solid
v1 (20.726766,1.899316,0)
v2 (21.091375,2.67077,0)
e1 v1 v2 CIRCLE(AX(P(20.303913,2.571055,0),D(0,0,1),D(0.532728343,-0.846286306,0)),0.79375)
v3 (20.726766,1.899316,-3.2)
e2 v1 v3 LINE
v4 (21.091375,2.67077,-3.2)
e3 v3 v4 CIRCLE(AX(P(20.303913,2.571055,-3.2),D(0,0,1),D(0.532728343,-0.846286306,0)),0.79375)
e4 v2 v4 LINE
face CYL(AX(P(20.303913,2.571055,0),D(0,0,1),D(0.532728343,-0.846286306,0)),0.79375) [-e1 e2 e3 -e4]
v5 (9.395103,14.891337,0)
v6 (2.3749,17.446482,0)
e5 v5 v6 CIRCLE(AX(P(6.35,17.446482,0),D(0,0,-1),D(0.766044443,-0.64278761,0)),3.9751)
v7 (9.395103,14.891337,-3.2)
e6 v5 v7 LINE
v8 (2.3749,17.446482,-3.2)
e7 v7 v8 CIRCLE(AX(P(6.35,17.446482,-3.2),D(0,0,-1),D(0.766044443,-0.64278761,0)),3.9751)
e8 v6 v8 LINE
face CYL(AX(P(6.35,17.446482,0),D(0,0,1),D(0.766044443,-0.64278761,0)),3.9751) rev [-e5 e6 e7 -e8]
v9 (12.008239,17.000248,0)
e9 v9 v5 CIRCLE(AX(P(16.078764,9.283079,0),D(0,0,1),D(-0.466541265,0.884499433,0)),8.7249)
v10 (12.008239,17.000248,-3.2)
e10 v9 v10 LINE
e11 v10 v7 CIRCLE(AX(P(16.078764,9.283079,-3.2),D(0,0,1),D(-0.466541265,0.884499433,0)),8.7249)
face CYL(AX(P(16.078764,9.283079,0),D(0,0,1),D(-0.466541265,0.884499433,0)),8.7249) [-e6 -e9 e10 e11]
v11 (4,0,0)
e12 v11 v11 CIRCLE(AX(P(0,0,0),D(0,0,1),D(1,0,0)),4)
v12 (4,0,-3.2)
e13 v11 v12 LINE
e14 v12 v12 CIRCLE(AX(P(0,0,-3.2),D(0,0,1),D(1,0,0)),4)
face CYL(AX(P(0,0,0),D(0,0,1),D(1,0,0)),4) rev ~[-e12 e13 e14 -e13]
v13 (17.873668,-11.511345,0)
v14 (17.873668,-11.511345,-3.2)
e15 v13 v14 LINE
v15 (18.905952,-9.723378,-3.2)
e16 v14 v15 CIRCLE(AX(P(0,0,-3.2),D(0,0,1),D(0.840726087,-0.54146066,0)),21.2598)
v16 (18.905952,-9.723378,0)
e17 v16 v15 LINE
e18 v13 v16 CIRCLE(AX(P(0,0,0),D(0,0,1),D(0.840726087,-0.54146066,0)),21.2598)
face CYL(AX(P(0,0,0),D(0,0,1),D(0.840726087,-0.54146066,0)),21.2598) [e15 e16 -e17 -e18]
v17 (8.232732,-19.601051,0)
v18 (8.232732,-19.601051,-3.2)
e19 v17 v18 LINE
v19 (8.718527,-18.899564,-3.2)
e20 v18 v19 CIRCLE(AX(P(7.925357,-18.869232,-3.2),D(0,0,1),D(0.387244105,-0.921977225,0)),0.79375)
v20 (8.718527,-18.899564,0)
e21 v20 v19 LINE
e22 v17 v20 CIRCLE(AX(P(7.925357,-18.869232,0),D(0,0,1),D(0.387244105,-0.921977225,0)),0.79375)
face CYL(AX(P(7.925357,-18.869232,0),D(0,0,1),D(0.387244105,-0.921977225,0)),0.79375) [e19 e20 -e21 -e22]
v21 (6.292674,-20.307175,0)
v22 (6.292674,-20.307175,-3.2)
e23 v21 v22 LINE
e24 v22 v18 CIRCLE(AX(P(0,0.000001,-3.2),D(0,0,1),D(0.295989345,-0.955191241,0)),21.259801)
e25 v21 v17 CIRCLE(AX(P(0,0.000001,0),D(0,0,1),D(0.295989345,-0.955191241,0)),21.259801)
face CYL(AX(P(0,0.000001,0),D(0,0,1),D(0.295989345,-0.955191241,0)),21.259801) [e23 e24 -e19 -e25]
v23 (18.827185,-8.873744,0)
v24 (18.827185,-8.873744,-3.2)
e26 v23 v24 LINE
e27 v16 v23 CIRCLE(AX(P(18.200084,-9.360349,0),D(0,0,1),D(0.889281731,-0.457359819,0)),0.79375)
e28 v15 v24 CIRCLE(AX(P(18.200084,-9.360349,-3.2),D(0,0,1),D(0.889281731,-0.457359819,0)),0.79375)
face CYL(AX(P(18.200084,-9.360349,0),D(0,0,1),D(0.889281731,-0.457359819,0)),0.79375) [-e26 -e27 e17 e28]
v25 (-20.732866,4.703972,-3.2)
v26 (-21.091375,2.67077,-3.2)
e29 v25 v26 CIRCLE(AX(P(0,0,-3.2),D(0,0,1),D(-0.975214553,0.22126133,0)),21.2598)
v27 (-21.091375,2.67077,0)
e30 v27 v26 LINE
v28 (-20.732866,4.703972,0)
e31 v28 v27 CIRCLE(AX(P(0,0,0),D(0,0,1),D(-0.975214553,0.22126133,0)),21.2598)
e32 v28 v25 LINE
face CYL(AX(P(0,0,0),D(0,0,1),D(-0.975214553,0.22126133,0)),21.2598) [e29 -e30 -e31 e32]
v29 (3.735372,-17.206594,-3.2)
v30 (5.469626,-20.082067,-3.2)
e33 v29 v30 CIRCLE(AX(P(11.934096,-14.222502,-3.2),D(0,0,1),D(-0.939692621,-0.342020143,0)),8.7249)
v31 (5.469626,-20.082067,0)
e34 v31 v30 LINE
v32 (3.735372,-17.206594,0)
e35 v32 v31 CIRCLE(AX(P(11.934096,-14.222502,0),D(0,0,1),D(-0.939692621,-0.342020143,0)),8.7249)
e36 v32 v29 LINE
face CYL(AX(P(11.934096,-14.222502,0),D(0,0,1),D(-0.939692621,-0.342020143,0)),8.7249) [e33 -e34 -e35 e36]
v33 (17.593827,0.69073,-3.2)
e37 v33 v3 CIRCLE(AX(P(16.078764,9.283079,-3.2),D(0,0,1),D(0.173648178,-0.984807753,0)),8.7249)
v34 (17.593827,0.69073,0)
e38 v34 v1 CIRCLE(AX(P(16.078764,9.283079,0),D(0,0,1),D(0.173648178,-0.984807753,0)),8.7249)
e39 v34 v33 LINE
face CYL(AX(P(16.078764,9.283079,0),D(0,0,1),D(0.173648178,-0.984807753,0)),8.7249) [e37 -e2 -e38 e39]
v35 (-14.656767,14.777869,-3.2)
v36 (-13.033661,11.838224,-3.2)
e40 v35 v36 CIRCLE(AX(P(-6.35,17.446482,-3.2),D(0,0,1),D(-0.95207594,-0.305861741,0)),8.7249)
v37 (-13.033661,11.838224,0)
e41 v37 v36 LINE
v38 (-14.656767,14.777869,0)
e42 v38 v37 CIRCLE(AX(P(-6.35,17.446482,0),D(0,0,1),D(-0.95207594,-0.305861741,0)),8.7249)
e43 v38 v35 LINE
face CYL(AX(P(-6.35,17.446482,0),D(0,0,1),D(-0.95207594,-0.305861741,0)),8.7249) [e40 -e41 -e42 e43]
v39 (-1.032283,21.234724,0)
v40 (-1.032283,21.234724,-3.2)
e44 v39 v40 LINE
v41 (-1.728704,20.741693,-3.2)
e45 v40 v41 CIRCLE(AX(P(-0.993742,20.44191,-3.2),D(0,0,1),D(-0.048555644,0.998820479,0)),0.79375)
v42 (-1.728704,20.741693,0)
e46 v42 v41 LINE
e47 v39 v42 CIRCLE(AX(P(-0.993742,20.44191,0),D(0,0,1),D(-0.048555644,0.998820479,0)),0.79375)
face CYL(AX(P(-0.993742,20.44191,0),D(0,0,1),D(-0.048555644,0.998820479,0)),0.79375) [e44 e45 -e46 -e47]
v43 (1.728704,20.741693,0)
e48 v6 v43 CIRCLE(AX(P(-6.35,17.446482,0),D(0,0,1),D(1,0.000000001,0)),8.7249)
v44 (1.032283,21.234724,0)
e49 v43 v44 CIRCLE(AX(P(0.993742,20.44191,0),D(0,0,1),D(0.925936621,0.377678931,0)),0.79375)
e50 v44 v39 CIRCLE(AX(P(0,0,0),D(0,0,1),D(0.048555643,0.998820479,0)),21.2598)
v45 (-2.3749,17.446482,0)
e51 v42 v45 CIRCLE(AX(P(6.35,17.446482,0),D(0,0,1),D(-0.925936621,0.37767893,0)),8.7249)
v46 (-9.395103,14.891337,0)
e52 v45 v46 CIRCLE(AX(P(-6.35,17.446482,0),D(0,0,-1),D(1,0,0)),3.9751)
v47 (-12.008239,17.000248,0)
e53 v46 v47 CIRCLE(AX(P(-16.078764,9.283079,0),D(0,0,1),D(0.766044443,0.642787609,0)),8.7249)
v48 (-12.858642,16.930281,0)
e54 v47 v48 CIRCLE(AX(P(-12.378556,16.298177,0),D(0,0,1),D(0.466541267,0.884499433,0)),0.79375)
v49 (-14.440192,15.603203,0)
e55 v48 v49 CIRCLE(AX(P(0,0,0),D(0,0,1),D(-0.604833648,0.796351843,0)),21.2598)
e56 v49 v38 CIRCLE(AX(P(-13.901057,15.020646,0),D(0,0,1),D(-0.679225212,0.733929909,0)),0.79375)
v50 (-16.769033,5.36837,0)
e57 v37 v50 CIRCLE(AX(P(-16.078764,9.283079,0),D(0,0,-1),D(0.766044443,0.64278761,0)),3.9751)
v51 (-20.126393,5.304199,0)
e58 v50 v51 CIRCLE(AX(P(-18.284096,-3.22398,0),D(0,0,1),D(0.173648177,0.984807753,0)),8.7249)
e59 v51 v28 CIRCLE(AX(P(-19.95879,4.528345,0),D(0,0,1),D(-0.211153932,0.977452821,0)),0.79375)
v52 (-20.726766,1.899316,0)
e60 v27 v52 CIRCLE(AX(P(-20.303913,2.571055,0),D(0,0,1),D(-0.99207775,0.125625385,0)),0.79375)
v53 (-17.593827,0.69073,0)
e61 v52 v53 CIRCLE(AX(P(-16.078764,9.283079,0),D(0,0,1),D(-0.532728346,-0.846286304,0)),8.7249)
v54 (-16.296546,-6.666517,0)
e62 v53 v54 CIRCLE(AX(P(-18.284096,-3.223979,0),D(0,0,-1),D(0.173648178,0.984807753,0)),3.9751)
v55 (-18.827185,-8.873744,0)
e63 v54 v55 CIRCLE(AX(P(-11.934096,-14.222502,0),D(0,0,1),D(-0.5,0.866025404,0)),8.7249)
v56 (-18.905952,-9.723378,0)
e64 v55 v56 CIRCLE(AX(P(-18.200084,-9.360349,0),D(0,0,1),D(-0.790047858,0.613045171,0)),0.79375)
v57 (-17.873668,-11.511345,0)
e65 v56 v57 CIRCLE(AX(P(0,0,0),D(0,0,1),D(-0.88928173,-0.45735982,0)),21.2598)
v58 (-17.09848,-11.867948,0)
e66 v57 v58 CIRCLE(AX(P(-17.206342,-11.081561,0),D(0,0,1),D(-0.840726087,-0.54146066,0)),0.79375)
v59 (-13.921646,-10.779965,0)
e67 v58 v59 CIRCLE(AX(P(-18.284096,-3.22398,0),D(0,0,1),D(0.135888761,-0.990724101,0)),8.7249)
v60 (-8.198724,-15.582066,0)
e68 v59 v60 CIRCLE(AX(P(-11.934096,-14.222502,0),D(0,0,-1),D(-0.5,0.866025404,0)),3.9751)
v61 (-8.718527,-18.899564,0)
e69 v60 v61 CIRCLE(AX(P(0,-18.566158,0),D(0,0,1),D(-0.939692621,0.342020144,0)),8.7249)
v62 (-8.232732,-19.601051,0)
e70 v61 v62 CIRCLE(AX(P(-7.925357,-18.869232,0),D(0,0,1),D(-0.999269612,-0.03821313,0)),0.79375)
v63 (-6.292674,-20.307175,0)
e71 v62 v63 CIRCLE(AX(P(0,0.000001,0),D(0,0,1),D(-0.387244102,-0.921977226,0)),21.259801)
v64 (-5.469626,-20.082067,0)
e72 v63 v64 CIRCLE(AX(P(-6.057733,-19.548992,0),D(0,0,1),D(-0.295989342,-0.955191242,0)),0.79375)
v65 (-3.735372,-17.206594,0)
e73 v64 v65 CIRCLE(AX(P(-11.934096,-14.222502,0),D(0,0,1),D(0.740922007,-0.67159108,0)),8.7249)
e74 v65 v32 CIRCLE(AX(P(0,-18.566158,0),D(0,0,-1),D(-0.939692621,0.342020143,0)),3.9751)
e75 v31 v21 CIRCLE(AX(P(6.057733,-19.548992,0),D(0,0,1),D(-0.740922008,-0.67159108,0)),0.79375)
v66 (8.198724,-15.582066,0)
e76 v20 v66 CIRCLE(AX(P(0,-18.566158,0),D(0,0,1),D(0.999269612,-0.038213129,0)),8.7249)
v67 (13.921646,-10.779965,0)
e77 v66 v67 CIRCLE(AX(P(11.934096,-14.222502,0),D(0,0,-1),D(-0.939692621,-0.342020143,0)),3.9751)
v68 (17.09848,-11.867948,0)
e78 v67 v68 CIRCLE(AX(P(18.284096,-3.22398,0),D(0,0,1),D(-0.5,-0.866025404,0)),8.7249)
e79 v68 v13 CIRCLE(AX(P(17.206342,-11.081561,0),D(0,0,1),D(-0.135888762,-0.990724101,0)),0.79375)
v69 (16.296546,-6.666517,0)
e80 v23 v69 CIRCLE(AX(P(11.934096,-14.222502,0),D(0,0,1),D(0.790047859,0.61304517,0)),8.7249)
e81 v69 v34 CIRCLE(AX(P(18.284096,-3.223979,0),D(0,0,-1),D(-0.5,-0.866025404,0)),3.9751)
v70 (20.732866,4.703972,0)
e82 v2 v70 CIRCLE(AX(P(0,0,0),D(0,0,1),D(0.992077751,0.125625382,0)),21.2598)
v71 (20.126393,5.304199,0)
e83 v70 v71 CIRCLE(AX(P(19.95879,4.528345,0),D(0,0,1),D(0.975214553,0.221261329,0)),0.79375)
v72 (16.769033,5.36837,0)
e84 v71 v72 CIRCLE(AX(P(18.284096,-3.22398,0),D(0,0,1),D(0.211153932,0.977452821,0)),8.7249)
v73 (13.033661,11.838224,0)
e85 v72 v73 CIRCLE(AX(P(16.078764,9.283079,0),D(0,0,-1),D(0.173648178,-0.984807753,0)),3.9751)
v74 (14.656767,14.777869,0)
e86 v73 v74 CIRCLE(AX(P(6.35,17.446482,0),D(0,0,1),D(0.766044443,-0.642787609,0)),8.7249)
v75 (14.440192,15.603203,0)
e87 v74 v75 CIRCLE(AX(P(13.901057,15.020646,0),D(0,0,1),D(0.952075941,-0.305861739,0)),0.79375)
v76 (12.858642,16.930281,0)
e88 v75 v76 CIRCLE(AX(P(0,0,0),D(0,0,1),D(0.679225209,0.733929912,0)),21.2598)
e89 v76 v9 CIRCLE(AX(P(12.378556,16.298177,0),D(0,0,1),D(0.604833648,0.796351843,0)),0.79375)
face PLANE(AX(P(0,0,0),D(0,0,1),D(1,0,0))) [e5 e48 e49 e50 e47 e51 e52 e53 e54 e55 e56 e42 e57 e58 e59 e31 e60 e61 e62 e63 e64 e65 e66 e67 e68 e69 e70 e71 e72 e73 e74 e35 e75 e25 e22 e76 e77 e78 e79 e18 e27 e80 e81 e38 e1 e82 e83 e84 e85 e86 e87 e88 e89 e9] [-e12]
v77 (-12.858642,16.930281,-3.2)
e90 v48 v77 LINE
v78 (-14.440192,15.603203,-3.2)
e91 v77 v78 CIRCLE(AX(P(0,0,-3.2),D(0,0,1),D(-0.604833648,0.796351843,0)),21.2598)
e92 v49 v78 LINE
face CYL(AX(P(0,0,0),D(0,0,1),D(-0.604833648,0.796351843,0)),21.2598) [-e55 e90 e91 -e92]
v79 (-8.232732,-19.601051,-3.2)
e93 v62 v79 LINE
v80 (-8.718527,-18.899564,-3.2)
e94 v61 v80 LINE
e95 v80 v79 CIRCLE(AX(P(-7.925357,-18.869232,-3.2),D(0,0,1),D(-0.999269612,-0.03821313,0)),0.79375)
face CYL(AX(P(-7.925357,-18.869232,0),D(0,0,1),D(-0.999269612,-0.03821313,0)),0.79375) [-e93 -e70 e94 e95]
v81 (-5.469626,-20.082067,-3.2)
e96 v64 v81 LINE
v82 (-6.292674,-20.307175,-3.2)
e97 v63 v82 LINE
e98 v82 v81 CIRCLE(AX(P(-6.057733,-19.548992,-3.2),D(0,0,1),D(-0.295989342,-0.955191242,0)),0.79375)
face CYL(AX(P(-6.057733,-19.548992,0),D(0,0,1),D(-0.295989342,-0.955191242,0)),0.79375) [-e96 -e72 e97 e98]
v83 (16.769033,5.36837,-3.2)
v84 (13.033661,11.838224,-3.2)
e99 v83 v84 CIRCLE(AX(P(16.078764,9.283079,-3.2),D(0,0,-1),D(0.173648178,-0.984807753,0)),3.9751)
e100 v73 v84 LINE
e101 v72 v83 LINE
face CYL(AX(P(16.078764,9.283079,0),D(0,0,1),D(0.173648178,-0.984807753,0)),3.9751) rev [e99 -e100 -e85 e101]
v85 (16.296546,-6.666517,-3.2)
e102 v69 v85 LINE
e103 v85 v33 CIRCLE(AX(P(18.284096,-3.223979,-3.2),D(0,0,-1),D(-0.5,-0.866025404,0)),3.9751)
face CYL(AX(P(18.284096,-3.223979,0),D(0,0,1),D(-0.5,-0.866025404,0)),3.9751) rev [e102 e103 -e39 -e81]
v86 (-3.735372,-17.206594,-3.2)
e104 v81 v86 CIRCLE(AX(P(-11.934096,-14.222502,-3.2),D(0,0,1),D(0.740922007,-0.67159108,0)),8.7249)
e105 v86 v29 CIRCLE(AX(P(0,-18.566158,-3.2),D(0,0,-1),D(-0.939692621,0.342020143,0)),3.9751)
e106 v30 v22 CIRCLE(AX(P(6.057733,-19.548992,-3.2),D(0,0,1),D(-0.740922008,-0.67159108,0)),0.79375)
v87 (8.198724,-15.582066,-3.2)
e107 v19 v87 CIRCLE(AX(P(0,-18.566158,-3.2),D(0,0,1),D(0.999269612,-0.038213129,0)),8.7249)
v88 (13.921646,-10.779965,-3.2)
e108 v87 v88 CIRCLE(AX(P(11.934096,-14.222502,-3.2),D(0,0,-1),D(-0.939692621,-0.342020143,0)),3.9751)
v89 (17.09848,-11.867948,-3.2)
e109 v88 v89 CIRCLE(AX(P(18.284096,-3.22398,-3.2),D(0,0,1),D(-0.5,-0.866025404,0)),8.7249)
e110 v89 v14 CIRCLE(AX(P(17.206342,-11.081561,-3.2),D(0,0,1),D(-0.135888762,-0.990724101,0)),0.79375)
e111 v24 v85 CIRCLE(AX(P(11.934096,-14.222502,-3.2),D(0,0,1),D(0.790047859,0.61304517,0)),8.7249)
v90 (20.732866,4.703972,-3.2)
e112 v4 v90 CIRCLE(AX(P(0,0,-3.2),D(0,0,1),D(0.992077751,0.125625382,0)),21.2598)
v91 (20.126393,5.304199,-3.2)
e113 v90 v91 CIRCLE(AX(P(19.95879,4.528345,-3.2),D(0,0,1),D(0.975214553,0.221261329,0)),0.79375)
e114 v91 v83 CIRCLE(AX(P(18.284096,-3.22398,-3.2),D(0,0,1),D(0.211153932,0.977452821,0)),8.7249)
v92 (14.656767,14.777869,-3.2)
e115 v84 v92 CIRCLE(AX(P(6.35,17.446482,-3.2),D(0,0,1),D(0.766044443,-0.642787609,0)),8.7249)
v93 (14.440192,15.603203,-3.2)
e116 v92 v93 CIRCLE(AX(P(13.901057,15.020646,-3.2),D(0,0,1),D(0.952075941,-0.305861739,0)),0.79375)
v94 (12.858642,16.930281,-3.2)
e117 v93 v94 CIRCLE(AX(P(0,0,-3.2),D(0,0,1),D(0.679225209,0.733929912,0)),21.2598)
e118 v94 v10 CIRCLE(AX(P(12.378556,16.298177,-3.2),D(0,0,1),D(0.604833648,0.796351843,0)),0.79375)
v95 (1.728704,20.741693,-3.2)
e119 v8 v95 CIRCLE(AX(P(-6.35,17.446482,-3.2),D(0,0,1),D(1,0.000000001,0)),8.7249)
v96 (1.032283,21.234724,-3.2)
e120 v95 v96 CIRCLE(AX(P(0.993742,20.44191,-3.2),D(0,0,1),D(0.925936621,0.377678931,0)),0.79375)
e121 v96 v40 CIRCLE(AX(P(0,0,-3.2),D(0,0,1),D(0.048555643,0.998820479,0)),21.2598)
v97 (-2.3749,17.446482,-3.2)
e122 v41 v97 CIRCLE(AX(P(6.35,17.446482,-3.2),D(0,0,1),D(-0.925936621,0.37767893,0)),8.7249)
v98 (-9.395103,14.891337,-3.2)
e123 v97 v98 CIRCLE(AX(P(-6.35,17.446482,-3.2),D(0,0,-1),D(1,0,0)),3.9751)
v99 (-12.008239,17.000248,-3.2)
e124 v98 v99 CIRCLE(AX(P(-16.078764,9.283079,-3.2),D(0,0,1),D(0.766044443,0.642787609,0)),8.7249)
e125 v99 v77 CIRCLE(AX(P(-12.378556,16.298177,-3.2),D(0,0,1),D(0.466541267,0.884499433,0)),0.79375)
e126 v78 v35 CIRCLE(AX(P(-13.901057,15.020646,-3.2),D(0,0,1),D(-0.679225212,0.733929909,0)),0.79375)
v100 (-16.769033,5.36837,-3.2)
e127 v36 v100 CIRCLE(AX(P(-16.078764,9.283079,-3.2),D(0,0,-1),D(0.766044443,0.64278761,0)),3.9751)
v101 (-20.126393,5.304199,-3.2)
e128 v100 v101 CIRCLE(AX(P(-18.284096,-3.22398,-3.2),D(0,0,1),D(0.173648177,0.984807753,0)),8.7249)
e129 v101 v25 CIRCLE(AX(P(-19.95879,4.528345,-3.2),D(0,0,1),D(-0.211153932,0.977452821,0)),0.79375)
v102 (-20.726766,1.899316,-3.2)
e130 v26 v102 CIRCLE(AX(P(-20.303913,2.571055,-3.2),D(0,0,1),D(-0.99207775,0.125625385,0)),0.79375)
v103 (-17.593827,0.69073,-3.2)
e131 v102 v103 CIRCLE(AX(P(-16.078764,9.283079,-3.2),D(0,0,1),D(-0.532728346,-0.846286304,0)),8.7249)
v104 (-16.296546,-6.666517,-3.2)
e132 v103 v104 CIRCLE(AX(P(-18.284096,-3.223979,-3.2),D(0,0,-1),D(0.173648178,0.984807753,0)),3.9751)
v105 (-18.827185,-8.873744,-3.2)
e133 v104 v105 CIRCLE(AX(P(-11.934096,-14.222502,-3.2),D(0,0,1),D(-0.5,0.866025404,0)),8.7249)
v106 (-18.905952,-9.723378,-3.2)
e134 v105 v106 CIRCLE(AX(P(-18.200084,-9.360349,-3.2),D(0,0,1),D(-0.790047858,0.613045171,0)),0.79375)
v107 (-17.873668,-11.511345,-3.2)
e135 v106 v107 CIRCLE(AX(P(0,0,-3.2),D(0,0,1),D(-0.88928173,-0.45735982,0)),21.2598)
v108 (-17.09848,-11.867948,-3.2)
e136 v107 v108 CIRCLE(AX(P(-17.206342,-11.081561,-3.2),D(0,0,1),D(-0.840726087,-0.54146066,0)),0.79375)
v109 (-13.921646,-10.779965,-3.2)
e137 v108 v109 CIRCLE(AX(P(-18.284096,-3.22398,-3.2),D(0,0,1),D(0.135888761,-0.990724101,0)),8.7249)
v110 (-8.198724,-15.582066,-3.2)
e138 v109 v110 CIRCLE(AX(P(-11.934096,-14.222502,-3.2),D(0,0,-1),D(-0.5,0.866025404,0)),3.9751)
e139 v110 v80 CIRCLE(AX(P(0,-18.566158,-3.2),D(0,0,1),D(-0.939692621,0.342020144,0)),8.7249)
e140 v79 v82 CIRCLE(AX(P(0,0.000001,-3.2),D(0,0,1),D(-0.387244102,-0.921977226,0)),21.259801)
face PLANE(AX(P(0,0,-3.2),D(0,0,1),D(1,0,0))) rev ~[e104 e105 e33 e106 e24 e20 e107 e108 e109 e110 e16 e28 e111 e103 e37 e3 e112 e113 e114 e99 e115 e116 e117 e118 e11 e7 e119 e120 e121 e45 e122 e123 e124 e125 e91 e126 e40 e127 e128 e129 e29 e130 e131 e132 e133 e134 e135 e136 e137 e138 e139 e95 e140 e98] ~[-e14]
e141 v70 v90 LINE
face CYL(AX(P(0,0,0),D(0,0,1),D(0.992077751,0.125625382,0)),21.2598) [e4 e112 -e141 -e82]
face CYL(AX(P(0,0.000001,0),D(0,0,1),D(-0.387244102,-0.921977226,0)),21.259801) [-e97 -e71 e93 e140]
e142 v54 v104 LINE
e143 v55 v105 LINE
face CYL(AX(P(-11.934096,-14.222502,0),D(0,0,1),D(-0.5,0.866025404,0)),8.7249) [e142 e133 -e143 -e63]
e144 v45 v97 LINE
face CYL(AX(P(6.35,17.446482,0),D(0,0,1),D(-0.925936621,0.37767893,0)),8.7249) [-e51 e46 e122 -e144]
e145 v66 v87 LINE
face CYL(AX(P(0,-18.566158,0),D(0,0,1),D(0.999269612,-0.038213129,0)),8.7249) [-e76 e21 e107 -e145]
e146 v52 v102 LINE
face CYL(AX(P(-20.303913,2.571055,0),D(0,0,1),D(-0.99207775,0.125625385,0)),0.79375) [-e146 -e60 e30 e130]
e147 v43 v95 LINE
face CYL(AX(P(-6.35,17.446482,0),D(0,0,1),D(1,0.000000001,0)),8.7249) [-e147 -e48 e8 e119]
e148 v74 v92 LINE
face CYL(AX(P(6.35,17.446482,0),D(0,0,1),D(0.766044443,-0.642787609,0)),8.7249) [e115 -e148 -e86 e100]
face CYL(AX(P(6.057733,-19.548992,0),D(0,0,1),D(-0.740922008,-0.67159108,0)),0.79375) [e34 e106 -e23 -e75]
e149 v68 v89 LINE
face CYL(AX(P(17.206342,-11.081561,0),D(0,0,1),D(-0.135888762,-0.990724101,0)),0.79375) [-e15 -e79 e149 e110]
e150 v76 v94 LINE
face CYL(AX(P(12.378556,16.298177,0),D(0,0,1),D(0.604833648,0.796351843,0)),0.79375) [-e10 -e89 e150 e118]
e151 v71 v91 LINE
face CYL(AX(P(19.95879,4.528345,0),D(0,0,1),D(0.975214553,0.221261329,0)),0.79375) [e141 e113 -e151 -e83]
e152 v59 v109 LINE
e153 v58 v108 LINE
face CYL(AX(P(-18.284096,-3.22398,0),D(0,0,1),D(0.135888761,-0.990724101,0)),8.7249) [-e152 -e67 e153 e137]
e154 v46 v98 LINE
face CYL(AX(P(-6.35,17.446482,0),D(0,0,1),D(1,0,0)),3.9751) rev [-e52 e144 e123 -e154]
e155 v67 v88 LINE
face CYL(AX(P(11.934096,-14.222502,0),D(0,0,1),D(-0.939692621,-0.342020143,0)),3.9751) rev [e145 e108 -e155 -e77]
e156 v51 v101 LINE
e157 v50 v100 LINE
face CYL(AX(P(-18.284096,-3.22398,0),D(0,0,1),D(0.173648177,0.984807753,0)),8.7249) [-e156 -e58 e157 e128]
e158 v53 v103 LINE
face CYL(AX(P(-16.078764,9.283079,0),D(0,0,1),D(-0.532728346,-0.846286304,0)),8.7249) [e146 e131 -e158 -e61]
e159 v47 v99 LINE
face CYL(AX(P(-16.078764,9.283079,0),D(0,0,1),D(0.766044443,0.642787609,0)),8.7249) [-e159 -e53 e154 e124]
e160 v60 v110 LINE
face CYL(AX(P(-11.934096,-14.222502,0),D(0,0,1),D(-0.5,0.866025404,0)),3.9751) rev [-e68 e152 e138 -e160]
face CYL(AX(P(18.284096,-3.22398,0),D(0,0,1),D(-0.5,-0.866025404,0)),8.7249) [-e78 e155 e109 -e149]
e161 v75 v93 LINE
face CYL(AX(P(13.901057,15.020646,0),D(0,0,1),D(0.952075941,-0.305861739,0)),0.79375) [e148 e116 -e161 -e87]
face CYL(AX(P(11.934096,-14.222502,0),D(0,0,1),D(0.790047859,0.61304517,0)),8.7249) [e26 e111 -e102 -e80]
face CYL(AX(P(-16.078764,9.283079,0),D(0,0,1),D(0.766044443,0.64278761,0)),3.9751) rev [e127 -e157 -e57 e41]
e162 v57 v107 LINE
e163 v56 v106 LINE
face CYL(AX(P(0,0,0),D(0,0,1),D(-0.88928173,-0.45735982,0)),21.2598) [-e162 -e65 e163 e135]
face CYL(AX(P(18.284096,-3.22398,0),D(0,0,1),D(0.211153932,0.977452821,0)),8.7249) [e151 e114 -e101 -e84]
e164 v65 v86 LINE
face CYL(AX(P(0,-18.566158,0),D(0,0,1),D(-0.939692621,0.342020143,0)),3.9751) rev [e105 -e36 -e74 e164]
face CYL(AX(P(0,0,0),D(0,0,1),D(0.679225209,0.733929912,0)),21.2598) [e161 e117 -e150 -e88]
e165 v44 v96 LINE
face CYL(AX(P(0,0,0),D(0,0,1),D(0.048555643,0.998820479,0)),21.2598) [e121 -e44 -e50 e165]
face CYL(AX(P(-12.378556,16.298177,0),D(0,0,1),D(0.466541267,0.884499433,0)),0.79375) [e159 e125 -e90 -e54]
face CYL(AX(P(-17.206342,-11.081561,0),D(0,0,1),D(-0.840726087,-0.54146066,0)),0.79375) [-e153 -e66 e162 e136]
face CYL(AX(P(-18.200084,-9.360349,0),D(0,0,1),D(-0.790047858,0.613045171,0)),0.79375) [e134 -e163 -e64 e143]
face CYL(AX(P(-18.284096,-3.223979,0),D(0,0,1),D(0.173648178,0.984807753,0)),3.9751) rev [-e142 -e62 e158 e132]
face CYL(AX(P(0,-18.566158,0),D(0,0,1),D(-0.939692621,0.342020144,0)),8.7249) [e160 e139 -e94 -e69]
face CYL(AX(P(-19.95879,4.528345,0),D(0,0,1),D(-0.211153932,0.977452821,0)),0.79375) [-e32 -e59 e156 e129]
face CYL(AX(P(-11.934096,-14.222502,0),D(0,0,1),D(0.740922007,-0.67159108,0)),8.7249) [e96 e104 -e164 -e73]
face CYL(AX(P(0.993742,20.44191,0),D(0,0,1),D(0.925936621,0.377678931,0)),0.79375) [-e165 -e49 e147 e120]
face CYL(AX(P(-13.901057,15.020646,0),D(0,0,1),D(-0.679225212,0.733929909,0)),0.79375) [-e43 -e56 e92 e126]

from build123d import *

# Parameters (mm, degrees)
BOSS_EXTRUDE1_DEPTH = 3.2
SKETCH2_R           = 4
CUT_EXTRUDE1_DEPTH  = 10


with BuildPart() as part:
    # Sketch1 → Boss-Extrude1 (new body)
    with BuildSketch(Plane.XY):
        with BuildLine():
            ThreePointArc((2.3749, 17.446481614), (2.211827147, 19.125468185), (1.72870442, 20.741692518))
            ThreePointArc((1.72870442, 20.741692518), (1.452377955, 21.089746522), (1.03228327, 21.234723622))
            ThreePointArc((1.03228327, 21.234723622), (0, 21.2598), (-1.03228327, 21.234723622))
            ThreePointArc((-1.03228327, 21.234723622), (-1.452377955, 21.089746522), (-1.72870442, 20.741692518))
            ThreePointArc((-1.72870442, 20.741692518), (-2.211827147, 19.125468185), (-2.3749, 17.446481614))
            ThreePointArc((-2.3749, 17.446481614), (-4.990435728, 13.711109477), (-9.395103266, 14.891336586))
            ThreePointArc((-9.395103266, 14.891336586), (-10.599256083, 16.07269371), (-12.00823854, 17.000248076))
            ThreePointArc((-12.00823854, 17.000248076), (-12.443641694, 17.089253684), (-12.858642377, 16.930280927))
            ThreePointArc((-12.858642377, 16.930280927), (-13.665536024, 16.285951652), (-14.440192102, 15.603203136))
            ThreePointArc((-14.440192102, 15.603203136), (-14.668813817, 15.222112575), (-14.656767369, 14.777868512))
            ThreePointArc((-14.656767369, 14.777868512), (-13.987971874, 13.22922354), (-13.033661162, 11.838223998))
            ThreePointArc((-13.033661162, 11.838223998), (-12.636226845, 7.295528971), (-16.769033299, 5.368369672))
            ThreePointArc((-16.769033299, 5.368369672), (-18.450829595, 5.49932722), (-20.12639323, 5.304198623))
            ThreePointArc((-20.12639323, 5.304198623), (-20.517143098, 5.092509122), (-20.732866347, 4.703971627))
            ThreePointArc((-20.732866347, 4.703971627), (-20.936815867, 3.691725528), (-21.091374564, 2.670770493))
            ThreePointArc((-21.091374564, 2.670770493), (-21.021548669, 2.23188298), (-20.726765974, 1.899315592))
            ThreePointArc((-20.726765974, 1.899315592), (-19.218989102, 1.142878174), (-17.593827413, 0.690729806))
            ThreePointArc((-17.593827413, 0.690729806), (-14.369386985, -2.533710622), (-16.296546284, -6.666517075))
            ThreePointArc((-16.296546284, -6.666517075), (-17.669054881, -7.647235594), (-18.827184848, -8.873744316))
            ThreePointArc((-18.827184848, -8.873744316), (-18.990445225, -9.287077056), (-18.905951734, -9.723378276))
            ThreePointArc((-18.905951734, -9.723378276), (-18.411526879, -10.6299), (-17.873668464, -11.511345346))
            ThreePointArc((-17.873668464, -11.511345346), (-17.538067269, -11.802669466), (-17.098480428, -11.867948202))
            ThreePointArc((-17.098480428, -11.867948202), (-15.457227734, -11.478232591), (-13.921646284, -10.779964538))
            ThreePointArc((-13.921646284, -10.779964538), (-9.378951257, -11.177398855), (-8.198724147, -15.582066393))
            ThreePointArc((-8.198724147, -15.582066393), (-8.619733019, -17.215571885), (-8.718527435, -18.899563668))
            ThreePointArc((-8.718527435, -18.899563668), (-8.577906975, -19.321136664), (-8.232732188, -19.60105142))
            ThreePointArc((-8.232732188, -19.60105142), (-7.271279843, -19.977677179), (-6.292674246, -20.307174764))
            ThreePointArc((-6.292674246, -20.307174764), (-5.848329281, -20.314621697), (-5.469625861, -20.082067135))
            ThreePointArc((-5.469625861, -20.082067135), (-4.462857721, -18.728550761), (-3.735372137, -17.206593669))
            ThreePointArc((-3.735372137, -17.206593669), (0, -14.591057941), (3.735372137, -17.206593669))
            ThreePointArc((3.735372137, -17.206593669), (4.462857721, -18.728550761), (5.469625861, -20.082067135))
            ThreePointArc((5.469625861, -20.082067135), (5.848329281, -20.314621697), (6.292674246, -20.307174764))
            ThreePointArc((6.292674246, -20.307174764), (7.271279843, -19.977677179), (8.232732188, -19.60105142))
            ThreePointArc((8.232732188, -19.60105142), (8.577906975, -19.321136664), (8.718527435, -18.899563668))
            ThreePointArc((8.718527435, -18.899563668), (8.619733019, -17.215571885), (8.198724147, -15.582066393))
            ThreePointArc((8.198724147, -15.582066393), (9.378951257, -11.177398855), (13.921646284, -10.779964538))
            ThreePointArc((13.921646284, -10.779964538), (15.457227734, -11.478232591), (17.098480428, -11.867948202))
            ThreePointArc((17.098480428, -11.867948202), (17.538067269, -11.802669466), (17.873668464, -11.511345346))
            ThreePointArc((17.873668464, -11.511345346), (18.411526879, -10.6299), (18.905951734, -9.723378276))
            ThreePointArc((18.905951734, -9.723378276), (18.990445225, -9.287077056), (18.827184848, -8.873744316))
            ThreePointArc((18.827184848, -8.873744316), (17.669054881, -7.647235594), (16.296546284, -6.666517075))
            ThreePointArc((16.296546284, -6.666517075), (14.369386985, -2.533710622), (17.593827413, 0.690729806))
            ThreePointArc((17.593827413, 0.690729806), (19.218989102, 1.142878174), (20.726765974, 1.899315592))
            ThreePointArc((20.726765974, 1.899315592), (21.021548669, 2.23188298), (21.091374564, 2.670770493))
            ThreePointArc((21.091374564, 2.670770493), (20.936815867, 3.691725528), (20.732866347, 4.703971627))
            ThreePointArc((20.732866347, 4.703971627), (20.517143098, 5.092509122), (20.12639323, 5.304198623))
            ThreePointArc((20.12639323, 5.304198623), (18.450829595, 5.49932722), (16.769033299, 5.368369672))
            ThreePointArc((16.769033299, 5.368369672), (12.636226845, 7.295528971), (13.033661162, 11.838223998))
            ThreePointArc((13.033661162, 11.838223998), (13.987971874, 13.22922354), (14.656767369, 14.777868512))
            ThreePointArc((14.656767369, 14.777868512), (14.668813817, 15.222112575), (14.440192102, 15.603203136))
            ThreePointArc((14.440192102, 15.603203136), (13.665536024, 16.285951652), (12.858642377, 16.930280927))
            ThreePointArc((12.858642377, 16.930280927), (12.443641694, 17.089253684), (12.00823854, 17.000248076))
            ThreePointArc((12.00823854, 17.000248076), (10.599256083, 16.07269371), (9.395103266, 14.891336586))
            ThreePointArc((9.395103266, 14.891336586), (4.990435728, 13.711109477), (2.3749, 17.446481614))
        make_face()
    extrude(amount=-BOSS_EXTRUDE1_DEPTH)

    # Sketch2 → Cut-Extrude1 (cut)
    with BuildSketch(Plane.XY):
        Circle(SKETCH2_R)
    extrude(amount=-CUT_EXTRUDE1_DEPTH, mode=Mode.SUBTRACT)


solid = part.part
